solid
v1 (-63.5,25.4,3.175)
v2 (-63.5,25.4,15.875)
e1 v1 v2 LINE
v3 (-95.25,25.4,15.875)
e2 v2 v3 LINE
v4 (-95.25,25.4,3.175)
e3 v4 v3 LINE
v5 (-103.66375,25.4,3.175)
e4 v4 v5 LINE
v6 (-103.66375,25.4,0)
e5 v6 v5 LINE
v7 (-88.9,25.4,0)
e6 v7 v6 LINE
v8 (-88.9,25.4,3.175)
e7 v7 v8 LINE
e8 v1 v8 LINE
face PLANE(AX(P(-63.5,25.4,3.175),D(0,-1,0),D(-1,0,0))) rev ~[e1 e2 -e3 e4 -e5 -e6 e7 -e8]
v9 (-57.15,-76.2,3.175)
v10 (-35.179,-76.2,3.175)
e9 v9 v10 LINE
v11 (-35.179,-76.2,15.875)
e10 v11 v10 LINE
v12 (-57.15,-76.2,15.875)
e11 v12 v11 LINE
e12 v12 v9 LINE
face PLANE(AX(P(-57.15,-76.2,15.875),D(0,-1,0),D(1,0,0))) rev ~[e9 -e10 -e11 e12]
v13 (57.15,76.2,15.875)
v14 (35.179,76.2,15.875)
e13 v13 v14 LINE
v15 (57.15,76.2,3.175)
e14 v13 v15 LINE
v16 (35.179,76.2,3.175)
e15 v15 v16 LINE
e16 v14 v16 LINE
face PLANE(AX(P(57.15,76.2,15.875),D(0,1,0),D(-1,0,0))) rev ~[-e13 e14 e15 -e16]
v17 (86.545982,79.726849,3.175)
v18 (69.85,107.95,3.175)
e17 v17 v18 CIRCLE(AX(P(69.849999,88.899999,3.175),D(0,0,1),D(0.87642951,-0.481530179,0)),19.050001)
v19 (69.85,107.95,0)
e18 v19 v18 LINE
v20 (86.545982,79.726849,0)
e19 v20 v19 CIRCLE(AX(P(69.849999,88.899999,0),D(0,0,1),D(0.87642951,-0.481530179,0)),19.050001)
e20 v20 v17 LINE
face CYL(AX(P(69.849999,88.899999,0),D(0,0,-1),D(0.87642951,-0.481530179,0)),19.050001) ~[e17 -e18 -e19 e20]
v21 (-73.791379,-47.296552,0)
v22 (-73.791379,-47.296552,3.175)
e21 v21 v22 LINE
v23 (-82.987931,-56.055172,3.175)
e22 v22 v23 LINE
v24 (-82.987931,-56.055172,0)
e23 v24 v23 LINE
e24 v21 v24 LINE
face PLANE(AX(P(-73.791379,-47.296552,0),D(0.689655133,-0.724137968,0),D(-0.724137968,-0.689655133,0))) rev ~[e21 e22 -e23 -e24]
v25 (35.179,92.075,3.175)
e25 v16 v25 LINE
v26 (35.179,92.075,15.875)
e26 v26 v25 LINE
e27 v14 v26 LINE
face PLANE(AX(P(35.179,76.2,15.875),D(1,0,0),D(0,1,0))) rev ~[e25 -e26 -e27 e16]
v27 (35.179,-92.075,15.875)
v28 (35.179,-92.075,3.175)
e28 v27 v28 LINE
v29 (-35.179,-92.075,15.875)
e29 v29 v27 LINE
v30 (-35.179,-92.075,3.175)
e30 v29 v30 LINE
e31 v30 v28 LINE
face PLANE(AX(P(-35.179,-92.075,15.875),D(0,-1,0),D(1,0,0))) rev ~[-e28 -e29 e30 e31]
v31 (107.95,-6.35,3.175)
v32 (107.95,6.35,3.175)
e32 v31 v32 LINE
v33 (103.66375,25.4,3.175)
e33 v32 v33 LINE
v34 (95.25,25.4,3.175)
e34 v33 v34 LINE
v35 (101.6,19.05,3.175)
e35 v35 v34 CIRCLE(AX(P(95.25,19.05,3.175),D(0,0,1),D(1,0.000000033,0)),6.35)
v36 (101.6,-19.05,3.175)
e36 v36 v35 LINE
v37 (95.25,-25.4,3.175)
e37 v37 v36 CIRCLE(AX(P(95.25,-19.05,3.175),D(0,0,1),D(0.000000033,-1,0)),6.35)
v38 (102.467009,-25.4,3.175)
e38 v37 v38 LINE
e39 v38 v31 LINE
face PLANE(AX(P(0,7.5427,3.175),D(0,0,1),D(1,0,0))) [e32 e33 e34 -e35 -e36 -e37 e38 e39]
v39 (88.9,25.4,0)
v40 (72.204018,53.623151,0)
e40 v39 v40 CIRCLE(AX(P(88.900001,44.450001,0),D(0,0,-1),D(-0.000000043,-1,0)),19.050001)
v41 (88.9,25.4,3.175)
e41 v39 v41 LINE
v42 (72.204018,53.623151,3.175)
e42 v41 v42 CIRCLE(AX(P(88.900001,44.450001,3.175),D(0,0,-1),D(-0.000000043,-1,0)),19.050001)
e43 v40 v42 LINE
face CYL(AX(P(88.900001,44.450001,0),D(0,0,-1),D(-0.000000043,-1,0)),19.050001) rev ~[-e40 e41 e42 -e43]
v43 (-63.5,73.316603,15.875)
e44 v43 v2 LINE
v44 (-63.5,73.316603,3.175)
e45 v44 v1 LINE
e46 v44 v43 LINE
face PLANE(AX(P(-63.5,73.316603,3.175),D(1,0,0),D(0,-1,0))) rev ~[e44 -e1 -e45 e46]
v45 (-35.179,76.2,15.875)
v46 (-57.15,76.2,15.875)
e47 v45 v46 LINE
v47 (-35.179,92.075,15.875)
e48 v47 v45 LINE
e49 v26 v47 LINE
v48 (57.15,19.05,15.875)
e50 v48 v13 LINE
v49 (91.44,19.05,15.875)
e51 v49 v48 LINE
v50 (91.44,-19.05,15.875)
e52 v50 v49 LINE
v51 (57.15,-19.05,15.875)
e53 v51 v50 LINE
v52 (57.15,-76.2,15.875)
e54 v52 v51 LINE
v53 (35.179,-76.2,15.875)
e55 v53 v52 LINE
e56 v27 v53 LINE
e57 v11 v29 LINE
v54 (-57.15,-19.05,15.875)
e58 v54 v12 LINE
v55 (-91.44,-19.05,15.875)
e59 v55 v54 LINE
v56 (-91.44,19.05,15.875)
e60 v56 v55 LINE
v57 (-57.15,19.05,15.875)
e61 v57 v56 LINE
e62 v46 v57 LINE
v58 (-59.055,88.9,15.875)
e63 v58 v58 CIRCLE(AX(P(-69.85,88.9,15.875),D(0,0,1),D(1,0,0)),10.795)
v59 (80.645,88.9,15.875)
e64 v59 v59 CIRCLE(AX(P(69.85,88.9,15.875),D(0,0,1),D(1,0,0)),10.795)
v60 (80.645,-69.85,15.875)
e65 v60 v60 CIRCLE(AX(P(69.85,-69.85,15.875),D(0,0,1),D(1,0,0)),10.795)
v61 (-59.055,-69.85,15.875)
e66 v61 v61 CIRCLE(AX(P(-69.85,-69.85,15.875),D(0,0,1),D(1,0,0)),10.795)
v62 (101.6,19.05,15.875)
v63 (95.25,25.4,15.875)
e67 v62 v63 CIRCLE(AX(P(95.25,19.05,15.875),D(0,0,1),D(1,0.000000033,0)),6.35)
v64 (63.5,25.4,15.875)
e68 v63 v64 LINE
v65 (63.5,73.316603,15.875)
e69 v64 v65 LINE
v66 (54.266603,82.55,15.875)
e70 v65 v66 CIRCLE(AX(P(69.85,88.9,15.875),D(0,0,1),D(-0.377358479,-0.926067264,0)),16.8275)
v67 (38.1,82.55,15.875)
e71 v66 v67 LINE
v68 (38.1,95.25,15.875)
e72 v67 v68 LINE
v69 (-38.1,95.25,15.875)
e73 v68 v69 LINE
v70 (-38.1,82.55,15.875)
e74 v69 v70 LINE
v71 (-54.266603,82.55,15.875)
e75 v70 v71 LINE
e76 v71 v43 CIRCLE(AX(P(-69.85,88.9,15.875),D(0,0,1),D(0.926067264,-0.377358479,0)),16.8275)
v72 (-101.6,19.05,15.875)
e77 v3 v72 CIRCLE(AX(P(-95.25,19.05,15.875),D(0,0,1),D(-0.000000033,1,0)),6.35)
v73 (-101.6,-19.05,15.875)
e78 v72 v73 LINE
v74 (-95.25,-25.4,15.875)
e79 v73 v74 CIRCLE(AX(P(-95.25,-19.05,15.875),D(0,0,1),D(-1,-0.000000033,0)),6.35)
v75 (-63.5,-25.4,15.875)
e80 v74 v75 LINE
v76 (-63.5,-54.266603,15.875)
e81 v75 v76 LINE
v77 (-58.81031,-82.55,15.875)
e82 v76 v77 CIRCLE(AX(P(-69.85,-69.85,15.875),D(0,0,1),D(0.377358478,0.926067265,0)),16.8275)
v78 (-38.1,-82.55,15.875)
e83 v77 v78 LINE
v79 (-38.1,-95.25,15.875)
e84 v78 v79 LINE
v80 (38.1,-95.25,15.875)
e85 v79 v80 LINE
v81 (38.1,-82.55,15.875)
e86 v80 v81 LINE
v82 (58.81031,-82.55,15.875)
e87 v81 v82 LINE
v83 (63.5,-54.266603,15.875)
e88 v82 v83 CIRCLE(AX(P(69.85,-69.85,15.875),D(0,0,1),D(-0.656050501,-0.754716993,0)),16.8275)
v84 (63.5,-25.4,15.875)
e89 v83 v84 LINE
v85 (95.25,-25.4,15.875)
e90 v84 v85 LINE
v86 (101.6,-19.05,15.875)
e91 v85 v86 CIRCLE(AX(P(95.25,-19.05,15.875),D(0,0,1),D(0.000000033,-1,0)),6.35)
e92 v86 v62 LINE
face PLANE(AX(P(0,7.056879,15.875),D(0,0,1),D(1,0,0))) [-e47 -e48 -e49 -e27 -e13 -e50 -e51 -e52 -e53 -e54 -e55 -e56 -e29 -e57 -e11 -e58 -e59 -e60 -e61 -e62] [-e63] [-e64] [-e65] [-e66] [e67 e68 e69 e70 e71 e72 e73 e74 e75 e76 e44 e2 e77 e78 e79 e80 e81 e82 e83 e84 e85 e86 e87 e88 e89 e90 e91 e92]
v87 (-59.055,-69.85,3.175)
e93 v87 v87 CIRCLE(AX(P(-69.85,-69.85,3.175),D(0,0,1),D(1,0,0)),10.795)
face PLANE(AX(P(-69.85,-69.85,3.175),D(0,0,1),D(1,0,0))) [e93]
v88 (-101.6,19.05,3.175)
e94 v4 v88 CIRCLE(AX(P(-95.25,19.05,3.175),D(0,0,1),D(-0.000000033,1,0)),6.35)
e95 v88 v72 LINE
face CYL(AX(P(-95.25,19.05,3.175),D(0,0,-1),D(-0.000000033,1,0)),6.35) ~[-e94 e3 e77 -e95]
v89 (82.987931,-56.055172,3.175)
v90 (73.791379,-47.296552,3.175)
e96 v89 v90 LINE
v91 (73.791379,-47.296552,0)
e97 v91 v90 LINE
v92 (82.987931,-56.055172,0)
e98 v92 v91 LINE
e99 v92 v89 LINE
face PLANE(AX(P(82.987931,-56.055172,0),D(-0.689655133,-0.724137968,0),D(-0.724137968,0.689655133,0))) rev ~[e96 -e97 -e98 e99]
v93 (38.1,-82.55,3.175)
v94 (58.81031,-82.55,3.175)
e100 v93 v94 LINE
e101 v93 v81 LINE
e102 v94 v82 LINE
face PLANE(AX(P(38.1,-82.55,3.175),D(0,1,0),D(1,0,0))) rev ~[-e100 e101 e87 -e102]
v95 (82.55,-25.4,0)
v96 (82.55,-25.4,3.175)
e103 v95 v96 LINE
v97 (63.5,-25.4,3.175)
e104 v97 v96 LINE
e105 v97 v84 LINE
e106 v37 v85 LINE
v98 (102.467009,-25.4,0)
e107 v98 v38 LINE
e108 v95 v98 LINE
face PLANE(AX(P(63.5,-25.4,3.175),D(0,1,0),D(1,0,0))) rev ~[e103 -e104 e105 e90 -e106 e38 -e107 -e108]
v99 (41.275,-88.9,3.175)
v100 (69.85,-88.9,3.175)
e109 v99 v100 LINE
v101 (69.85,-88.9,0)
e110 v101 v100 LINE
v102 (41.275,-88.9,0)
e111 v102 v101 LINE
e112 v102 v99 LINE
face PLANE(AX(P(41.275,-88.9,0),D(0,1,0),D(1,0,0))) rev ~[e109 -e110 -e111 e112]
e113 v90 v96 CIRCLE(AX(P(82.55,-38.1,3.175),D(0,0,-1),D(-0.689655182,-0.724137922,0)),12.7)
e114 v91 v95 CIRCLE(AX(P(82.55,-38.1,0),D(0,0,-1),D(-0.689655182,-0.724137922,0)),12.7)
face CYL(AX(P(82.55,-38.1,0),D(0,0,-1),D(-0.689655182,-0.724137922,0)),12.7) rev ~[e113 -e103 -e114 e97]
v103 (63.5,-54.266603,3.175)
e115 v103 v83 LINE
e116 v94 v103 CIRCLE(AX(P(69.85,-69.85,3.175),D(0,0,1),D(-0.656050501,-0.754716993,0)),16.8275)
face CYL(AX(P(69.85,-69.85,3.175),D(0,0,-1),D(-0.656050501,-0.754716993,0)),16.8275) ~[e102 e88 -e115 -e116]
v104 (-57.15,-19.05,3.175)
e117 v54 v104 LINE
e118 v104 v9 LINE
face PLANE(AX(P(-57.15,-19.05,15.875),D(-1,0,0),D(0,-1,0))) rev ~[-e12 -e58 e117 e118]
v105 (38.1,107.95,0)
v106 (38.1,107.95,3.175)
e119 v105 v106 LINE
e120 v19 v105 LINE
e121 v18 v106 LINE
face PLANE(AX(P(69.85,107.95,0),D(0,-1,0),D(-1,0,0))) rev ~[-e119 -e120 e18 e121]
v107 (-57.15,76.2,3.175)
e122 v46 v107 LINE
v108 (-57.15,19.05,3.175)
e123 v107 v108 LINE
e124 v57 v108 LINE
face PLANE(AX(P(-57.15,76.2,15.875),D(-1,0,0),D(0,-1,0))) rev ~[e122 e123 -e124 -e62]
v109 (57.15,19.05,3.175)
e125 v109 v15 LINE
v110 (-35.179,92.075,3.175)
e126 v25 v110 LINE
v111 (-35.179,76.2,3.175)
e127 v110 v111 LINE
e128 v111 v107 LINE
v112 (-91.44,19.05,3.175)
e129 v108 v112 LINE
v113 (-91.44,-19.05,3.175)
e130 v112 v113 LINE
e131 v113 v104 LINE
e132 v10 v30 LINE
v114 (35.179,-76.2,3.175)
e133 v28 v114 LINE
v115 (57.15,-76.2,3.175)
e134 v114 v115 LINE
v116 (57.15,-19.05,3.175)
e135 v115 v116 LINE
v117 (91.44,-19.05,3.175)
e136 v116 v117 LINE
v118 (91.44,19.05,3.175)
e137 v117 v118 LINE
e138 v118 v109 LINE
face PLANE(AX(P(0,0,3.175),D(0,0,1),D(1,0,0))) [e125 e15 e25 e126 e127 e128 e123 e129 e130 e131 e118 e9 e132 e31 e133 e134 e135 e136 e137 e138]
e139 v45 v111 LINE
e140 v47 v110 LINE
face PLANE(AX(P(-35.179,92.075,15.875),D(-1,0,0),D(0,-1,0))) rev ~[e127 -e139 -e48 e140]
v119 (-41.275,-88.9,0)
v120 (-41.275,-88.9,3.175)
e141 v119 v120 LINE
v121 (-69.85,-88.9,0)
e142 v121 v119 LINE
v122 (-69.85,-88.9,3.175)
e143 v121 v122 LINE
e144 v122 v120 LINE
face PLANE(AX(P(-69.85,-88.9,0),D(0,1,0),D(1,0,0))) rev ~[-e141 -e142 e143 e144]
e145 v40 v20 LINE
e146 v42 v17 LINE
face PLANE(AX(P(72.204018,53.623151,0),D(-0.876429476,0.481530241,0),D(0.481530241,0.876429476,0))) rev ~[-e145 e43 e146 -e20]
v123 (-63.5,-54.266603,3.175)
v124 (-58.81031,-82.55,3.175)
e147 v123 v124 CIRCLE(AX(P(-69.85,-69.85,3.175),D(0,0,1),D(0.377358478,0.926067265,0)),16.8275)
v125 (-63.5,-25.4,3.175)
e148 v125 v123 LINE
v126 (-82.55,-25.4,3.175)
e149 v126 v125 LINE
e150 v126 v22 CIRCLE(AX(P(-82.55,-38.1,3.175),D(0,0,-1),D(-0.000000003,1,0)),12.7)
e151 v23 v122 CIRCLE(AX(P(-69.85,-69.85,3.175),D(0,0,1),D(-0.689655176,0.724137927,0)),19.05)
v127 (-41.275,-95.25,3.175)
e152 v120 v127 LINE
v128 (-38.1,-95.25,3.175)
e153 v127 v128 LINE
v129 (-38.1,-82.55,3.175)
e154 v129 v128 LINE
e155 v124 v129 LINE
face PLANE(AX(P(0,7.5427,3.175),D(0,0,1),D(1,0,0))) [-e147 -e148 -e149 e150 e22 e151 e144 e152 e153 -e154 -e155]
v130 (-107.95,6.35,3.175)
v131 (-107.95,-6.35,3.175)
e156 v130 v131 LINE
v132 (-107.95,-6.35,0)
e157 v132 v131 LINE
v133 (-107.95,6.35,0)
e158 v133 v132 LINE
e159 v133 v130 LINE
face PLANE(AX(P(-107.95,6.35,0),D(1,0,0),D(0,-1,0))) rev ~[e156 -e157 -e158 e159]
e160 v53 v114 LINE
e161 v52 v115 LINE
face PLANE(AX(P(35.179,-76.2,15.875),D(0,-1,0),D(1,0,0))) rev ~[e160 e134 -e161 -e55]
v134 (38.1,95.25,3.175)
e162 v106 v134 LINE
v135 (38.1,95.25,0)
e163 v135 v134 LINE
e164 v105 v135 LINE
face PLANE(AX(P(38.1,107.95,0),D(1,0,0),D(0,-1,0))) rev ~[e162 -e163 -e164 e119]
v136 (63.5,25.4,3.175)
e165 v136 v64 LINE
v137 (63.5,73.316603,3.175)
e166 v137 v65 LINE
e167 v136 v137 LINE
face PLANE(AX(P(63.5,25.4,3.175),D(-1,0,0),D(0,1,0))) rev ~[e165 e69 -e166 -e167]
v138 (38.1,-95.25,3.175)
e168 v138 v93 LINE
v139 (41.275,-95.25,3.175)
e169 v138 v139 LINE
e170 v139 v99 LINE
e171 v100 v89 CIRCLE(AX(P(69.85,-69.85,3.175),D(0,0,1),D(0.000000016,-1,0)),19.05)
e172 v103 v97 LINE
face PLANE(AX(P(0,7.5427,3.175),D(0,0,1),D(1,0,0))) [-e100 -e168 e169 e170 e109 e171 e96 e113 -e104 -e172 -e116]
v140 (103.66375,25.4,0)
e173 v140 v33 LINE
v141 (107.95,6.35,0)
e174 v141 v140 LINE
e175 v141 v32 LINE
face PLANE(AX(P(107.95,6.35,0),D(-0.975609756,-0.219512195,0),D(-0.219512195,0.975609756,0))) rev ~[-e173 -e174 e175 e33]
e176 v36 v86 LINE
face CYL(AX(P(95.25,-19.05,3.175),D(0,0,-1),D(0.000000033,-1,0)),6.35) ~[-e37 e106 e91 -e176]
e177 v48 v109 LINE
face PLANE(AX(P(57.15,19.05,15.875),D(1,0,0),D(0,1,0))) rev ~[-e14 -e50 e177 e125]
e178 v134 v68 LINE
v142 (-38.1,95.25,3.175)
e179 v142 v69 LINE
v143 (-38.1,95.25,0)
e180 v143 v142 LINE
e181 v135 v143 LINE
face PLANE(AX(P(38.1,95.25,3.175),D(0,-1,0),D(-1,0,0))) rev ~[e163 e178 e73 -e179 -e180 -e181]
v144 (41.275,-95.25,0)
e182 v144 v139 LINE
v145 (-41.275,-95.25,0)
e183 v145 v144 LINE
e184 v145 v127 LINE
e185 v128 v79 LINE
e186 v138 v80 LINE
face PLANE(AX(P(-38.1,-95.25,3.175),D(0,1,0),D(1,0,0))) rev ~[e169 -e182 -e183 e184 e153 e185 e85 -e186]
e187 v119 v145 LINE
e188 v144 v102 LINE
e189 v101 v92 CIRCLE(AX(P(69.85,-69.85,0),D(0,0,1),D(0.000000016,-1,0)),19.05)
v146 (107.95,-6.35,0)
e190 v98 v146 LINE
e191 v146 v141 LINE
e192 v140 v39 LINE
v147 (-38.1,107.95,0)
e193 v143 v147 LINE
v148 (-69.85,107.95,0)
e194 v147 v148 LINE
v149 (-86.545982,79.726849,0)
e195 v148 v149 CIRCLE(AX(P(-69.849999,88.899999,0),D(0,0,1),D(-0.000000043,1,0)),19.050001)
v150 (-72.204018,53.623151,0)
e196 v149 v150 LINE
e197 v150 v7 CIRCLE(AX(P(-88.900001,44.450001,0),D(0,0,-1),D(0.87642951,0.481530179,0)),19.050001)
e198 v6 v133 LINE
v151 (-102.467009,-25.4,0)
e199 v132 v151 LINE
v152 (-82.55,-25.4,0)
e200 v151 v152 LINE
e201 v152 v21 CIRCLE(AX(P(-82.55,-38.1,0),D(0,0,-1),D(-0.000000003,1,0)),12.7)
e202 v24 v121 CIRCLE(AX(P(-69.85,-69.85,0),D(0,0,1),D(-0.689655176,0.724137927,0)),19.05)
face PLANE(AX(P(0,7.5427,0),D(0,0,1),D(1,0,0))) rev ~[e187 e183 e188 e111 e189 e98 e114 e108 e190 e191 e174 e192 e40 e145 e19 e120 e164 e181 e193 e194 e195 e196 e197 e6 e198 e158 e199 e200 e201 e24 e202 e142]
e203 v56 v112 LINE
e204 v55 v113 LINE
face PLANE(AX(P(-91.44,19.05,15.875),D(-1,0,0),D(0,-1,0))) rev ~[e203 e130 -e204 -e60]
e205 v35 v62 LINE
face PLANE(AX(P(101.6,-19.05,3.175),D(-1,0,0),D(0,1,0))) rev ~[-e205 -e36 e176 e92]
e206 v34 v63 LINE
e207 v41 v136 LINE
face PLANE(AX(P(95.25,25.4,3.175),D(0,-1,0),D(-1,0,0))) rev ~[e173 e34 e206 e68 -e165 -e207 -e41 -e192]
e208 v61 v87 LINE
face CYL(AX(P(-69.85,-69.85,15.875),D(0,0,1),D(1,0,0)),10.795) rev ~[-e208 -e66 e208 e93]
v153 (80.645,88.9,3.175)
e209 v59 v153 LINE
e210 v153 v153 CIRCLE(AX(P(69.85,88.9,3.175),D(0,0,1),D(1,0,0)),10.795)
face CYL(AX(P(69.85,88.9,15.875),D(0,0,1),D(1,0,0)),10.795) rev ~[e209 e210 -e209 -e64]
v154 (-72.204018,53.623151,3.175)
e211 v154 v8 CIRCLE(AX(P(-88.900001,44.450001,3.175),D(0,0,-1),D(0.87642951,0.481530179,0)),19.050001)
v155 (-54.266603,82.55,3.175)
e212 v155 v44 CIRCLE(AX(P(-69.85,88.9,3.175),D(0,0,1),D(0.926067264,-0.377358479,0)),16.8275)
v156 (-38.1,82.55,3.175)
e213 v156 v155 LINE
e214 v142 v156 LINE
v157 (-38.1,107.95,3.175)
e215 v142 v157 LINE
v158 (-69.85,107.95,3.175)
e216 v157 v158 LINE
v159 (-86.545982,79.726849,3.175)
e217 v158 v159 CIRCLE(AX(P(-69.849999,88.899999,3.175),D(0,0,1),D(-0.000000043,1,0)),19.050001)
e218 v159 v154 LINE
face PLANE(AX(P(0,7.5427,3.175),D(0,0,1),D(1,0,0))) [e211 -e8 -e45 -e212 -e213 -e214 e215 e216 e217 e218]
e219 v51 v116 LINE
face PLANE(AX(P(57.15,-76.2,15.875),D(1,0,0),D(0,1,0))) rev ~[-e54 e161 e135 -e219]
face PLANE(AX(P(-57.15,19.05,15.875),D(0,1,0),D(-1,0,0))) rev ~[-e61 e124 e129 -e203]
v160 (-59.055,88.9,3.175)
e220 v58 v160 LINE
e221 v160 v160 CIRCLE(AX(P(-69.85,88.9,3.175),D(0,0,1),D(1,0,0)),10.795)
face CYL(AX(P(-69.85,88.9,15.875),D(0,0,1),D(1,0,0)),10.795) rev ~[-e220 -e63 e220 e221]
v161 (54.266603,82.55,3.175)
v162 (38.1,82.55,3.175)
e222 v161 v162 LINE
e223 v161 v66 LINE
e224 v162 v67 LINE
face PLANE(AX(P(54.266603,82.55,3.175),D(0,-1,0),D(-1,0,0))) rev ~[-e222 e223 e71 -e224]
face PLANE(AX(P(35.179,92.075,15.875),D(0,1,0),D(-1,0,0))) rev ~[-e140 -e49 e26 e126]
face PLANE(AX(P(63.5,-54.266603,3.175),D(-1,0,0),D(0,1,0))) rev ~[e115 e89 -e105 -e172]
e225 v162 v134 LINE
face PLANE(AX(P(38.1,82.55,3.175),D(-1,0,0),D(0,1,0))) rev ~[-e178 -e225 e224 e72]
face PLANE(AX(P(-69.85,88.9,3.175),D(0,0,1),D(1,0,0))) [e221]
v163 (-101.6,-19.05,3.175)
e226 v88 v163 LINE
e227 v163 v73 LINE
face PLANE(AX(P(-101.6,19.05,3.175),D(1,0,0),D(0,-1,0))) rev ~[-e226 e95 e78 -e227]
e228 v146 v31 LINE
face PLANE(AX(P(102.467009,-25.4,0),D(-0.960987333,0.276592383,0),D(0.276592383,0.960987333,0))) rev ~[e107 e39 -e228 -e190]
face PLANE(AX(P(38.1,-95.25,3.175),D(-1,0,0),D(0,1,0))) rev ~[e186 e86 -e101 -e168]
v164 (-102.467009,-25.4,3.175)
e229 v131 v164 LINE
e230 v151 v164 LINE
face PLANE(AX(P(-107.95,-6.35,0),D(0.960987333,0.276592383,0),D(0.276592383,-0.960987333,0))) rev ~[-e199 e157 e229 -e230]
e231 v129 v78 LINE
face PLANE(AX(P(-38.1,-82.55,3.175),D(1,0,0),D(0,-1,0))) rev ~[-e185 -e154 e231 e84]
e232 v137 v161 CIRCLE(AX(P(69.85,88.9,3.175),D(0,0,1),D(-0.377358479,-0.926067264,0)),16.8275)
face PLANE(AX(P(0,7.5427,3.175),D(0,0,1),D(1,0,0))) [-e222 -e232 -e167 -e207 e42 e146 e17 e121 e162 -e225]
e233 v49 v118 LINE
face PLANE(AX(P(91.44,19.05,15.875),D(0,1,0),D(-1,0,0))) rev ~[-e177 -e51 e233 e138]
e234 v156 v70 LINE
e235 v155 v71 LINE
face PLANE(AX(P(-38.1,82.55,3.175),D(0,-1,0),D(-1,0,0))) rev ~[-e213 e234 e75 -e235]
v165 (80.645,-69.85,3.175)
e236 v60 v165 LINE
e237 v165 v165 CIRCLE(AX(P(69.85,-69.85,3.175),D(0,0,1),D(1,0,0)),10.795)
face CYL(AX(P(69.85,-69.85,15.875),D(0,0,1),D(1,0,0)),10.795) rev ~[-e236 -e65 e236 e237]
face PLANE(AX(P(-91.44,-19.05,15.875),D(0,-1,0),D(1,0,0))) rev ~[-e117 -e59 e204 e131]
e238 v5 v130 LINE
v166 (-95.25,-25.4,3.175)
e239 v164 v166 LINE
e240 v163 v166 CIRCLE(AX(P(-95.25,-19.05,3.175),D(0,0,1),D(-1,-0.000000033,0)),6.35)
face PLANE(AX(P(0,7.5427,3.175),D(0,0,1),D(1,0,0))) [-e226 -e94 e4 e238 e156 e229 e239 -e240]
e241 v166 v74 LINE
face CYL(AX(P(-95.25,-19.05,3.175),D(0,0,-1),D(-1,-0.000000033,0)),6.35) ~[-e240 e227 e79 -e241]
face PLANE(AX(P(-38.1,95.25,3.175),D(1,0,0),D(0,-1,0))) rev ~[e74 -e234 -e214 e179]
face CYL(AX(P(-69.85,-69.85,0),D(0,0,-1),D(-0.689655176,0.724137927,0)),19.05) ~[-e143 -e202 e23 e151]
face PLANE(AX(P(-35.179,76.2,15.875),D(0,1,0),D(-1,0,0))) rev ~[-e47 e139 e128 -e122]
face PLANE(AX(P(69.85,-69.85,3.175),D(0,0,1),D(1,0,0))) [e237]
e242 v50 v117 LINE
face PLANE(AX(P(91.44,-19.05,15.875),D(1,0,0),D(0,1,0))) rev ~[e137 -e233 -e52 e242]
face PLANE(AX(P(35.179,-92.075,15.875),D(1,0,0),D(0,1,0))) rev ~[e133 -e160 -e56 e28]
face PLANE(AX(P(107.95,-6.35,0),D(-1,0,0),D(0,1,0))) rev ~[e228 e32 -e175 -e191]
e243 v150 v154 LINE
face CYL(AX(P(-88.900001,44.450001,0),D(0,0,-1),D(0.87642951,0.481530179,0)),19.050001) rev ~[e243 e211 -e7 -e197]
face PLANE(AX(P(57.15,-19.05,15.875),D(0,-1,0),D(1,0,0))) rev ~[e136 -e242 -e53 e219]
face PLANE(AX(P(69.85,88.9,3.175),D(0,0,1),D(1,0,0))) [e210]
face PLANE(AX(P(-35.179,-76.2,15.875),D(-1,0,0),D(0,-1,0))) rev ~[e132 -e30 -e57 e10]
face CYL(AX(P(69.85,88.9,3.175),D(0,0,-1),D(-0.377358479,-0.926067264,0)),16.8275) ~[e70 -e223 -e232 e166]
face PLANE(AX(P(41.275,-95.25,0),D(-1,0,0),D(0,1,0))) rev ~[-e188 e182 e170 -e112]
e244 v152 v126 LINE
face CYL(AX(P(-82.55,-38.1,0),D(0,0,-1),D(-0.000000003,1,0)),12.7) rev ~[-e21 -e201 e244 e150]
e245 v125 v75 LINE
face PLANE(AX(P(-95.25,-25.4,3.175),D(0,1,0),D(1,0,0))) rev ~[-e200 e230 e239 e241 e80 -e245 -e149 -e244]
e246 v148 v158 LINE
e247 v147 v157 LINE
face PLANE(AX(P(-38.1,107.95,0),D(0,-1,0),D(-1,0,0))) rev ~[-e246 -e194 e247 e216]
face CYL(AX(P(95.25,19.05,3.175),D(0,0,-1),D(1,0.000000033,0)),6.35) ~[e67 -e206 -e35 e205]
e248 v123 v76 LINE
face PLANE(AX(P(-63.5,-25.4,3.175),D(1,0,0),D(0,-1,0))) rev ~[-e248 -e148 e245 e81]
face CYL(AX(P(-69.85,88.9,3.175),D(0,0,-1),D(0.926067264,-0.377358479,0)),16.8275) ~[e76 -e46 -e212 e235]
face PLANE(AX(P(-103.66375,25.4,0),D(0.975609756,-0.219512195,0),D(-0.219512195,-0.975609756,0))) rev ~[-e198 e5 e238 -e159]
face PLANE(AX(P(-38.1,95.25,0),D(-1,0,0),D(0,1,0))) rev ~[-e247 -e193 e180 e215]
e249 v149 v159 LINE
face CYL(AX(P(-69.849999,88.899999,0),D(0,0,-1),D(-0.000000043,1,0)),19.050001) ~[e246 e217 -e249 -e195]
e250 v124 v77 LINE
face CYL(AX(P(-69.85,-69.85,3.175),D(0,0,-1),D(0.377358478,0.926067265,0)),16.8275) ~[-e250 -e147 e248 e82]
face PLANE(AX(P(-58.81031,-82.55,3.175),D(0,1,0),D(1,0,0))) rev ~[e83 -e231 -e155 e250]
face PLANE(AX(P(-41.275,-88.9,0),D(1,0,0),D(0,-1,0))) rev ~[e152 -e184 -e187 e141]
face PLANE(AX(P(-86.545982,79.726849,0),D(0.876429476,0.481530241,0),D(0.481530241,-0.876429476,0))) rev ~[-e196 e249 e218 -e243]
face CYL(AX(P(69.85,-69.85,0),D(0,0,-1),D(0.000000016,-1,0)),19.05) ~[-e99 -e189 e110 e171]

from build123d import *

# Parameters (mm, degrees)
F1_DEPTH = 3.175
F3_DEPTH = 12.7
F5_DEPTH = 12.7
F6_R     = 10.795
F7_DEPTH = 12.7


with BuildPart() as f1:
    # F0 (on Top) → F1 (new body)
    with BuildSketch(Plane.XY):
        with BuildLine():
            Line((72.204018, 53.623151), (86.545982, 79.726849))
            ThreePointArc((86.545982, 79.726849), (86.245899, 98.599329), (69.85, 107.95))
            Line((69.85, 107.95), (38.1, 107.95))
            Line((38.1, 107.95), (38.1, 95.25))
            Line((38.1, 95.25), (-38.1, 95.25))
            Line((-38.1, 95.25), (-38.1, 107.95))
            Line((-38.1, 107.95), (-69.85, 107.95))
            ThreePointArc((-69.85, 107.95), (-86.245899, 98.599329), (-86.545982, 79.726849))
            Line((-86.545982, 79.726849), (-72.204018, 53.623151))
            ThreePointArc((-72.204018, 53.623151), (-72.504101, 34.750671), (-88.9, 25.4))
            Line((-88.9, 25.4), (-103.66375, 25.4))
            Line((-103.66375, 25.4), (-107.95, 6.35))
            Line((-107.95, 6.35), (-107.95, -6.35))
            Line((-107.95, -6.35), (-102.467009, -25.4))
            Line((-102.467009, -25.4), (-82.55, -25.4))
            ThreePointArc((-82.55, -25.4), (-70.758346, -33.383338), (-73.791379, -47.296552))
            Line((-73.791379, -47.296552), (-82.987931, -56.055172))
            ThreePointArc((-82.987931, -56.055172), (-87.537481, -76.924992), (-69.85, -88.9))
            Line((-69.85, -88.9), (-41.275, -88.9))
            Line((-41.275, -88.9), (-41.275, -95.25))
            Line((-41.275, -95.25), (41.275, -95.25))
            Line((41.275, -95.25), (41.275, -88.9))
            Line((41.275, -88.9), (69.85, -88.9))
            ThreePointArc((69.85, -88.9), (87.537481, -76.924992), (82.987931, -56.055172))
            Line((82.987931, -56.055172), (73.791379, -47.296552))
            ThreePointArc((73.791379, -47.296552), (70.758346, -33.383338), (82.55, -25.4))
            Line((82.55, -25.4), (102.467009, -25.4))
            Line((102.467009, -25.4), (107.95, -6.35))
            Line((107.95, -6.35), (107.95, 6.35))
            Line((107.95, 6.35), (103.66375, 25.4))
            Line((103.66375, 25.4), (88.9, 25.4))
            ThreePointArc((88.9, 25.4), (72.504101, 34.750671), (72.204018, 53.623151))
        make_face()
    extrude(amount=F1_DEPTH)

    # F2 (on face) → F3 (join)
    with BuildSketch(Plane.XY.offset(3.175)):
        with BuildLine():
            Line((-38.1, 82.55), (-54.266603, 82.55))
            ThreePointArc((-54.266603, 82.55), (-81.748839, 100.798839), (-63.5, 73.316603))
            Line((-63.5, 73.316603), (-63.5, 25.4))
            Line((-63.5, 25.4), (-88.9, 25.4))
            Line((-88.9, 25.4), (-95.25, 25.4))
            ThreePointArc((-95.25, 25.4), (-99.740128, 23.540128), (-101.6, 19.05))
            Line((-101.6, 19.05), (-101.6, -19.05))
            ThreePointArc((-101.6, -19.05), (-99.740128, -23.540128), (-95.25, -25.4))
            Line((-95.25, -25.4), (-82.55, -25.4))
            Line((-82.55, -25.4), (-63.5, -25.4))
            Line((-63.5, -25.4), (-63.5, -54.266603))
            ThreePointArc((-63.5, -54.266603), (-86.450842, -72.602597), (-58.81031, -82.55))
            Line((-58.81031, -82.55), (-38.1, -82.55))
            Line((-38.1, -82.55), (-38.1, -95.25))
            Line((-38.1, -95.25), (38.1, -95.25))
            Line((38.1, -95.25), (38.1, -82.55))
            Line((38.1, -82.55), (58.81031, -82.55))
            ThreePointArc((58.81031, -82.55), (86.450842, -72.602597), (63.5, -54.266603))
            Line((63.5, -54.266603), (63.5, -25.4))
            Line((63.5, -25.4), (82.55, -25.4))
            Line((82.55, -25.4), (95.25, -25.4))
            ThreePointArc((95.25, -25.4), (99.740128, -23.540128), (101.6, -19.05))
            Line((101.6, -19.05), (101.6, 19.05))
            ThreePointArc((101.6, 19.05), (99.740128, 23.540128), (95.25, 25.4))
            Line((95.25, 25.4), (88.9, 25.4))
            Line((88.9, 25.4), (63.5, 25.4))
            Line((63.5, 25.4), (63.5, 73.316603))
            ThreePointArc((63.5, 73.316603), (81.748839, 100.798839), (54.266603, 82.55))
            Line((54.266603, 82.55), (38.1, 82.55))
            Line((38.1, 82.55), (38.1, 95.25))
            Line((38.1, 95.25), (-38.1, 95.25))
            Line((-38.1, 95.25), (-38.1, 82.55))
        make_face()
    extrude(amount=F3_DEPTH)

    # F4 (on face) → F5 (cut)
    with BuildSketch(Plane.XY.offset(15.875)):
        Polygon((-35.179, 76.2), (-57.15, 76.2), (-57.15, 19.05), (-91.44, 19.05), (-91.44, -19.05), (-57.15, -19.05), (-57.15, -76.2), (-35.179, -76.2), (-35.179, -92.075), (35.179, -92.075), (35.179, -76.2), (57.15, -76.2), (57.15, -19.05), (91.44, -19.05), (91.44, 19.05), (57.15, 19.05), (57.15, 76.2), (35.179, 76.2), (35.179, 92.075), (-35.179, 92.075), align=None)
    extrude(amount=-F5_DEPTH, mode=Mode.SUBTRACT)

    # F6 (on face) → F7 (cut)
    with BuildSketch(Plane.XY.offset(15.875)):
        with Locations((-69.85, -69.85)):
            Circle(F6_R)
        with Locations((-69.85, 88.9)):
            Circle(F6_R)
        with Locations((69.85, 88.9)):
            Circle(F6_R)
        with Locations((69.85, -69.85)):
            Circle(F6_R)
    extrude(amount=-F7_DEPTH, mode=Mode.SUBTRACT)


solid = f1.part
